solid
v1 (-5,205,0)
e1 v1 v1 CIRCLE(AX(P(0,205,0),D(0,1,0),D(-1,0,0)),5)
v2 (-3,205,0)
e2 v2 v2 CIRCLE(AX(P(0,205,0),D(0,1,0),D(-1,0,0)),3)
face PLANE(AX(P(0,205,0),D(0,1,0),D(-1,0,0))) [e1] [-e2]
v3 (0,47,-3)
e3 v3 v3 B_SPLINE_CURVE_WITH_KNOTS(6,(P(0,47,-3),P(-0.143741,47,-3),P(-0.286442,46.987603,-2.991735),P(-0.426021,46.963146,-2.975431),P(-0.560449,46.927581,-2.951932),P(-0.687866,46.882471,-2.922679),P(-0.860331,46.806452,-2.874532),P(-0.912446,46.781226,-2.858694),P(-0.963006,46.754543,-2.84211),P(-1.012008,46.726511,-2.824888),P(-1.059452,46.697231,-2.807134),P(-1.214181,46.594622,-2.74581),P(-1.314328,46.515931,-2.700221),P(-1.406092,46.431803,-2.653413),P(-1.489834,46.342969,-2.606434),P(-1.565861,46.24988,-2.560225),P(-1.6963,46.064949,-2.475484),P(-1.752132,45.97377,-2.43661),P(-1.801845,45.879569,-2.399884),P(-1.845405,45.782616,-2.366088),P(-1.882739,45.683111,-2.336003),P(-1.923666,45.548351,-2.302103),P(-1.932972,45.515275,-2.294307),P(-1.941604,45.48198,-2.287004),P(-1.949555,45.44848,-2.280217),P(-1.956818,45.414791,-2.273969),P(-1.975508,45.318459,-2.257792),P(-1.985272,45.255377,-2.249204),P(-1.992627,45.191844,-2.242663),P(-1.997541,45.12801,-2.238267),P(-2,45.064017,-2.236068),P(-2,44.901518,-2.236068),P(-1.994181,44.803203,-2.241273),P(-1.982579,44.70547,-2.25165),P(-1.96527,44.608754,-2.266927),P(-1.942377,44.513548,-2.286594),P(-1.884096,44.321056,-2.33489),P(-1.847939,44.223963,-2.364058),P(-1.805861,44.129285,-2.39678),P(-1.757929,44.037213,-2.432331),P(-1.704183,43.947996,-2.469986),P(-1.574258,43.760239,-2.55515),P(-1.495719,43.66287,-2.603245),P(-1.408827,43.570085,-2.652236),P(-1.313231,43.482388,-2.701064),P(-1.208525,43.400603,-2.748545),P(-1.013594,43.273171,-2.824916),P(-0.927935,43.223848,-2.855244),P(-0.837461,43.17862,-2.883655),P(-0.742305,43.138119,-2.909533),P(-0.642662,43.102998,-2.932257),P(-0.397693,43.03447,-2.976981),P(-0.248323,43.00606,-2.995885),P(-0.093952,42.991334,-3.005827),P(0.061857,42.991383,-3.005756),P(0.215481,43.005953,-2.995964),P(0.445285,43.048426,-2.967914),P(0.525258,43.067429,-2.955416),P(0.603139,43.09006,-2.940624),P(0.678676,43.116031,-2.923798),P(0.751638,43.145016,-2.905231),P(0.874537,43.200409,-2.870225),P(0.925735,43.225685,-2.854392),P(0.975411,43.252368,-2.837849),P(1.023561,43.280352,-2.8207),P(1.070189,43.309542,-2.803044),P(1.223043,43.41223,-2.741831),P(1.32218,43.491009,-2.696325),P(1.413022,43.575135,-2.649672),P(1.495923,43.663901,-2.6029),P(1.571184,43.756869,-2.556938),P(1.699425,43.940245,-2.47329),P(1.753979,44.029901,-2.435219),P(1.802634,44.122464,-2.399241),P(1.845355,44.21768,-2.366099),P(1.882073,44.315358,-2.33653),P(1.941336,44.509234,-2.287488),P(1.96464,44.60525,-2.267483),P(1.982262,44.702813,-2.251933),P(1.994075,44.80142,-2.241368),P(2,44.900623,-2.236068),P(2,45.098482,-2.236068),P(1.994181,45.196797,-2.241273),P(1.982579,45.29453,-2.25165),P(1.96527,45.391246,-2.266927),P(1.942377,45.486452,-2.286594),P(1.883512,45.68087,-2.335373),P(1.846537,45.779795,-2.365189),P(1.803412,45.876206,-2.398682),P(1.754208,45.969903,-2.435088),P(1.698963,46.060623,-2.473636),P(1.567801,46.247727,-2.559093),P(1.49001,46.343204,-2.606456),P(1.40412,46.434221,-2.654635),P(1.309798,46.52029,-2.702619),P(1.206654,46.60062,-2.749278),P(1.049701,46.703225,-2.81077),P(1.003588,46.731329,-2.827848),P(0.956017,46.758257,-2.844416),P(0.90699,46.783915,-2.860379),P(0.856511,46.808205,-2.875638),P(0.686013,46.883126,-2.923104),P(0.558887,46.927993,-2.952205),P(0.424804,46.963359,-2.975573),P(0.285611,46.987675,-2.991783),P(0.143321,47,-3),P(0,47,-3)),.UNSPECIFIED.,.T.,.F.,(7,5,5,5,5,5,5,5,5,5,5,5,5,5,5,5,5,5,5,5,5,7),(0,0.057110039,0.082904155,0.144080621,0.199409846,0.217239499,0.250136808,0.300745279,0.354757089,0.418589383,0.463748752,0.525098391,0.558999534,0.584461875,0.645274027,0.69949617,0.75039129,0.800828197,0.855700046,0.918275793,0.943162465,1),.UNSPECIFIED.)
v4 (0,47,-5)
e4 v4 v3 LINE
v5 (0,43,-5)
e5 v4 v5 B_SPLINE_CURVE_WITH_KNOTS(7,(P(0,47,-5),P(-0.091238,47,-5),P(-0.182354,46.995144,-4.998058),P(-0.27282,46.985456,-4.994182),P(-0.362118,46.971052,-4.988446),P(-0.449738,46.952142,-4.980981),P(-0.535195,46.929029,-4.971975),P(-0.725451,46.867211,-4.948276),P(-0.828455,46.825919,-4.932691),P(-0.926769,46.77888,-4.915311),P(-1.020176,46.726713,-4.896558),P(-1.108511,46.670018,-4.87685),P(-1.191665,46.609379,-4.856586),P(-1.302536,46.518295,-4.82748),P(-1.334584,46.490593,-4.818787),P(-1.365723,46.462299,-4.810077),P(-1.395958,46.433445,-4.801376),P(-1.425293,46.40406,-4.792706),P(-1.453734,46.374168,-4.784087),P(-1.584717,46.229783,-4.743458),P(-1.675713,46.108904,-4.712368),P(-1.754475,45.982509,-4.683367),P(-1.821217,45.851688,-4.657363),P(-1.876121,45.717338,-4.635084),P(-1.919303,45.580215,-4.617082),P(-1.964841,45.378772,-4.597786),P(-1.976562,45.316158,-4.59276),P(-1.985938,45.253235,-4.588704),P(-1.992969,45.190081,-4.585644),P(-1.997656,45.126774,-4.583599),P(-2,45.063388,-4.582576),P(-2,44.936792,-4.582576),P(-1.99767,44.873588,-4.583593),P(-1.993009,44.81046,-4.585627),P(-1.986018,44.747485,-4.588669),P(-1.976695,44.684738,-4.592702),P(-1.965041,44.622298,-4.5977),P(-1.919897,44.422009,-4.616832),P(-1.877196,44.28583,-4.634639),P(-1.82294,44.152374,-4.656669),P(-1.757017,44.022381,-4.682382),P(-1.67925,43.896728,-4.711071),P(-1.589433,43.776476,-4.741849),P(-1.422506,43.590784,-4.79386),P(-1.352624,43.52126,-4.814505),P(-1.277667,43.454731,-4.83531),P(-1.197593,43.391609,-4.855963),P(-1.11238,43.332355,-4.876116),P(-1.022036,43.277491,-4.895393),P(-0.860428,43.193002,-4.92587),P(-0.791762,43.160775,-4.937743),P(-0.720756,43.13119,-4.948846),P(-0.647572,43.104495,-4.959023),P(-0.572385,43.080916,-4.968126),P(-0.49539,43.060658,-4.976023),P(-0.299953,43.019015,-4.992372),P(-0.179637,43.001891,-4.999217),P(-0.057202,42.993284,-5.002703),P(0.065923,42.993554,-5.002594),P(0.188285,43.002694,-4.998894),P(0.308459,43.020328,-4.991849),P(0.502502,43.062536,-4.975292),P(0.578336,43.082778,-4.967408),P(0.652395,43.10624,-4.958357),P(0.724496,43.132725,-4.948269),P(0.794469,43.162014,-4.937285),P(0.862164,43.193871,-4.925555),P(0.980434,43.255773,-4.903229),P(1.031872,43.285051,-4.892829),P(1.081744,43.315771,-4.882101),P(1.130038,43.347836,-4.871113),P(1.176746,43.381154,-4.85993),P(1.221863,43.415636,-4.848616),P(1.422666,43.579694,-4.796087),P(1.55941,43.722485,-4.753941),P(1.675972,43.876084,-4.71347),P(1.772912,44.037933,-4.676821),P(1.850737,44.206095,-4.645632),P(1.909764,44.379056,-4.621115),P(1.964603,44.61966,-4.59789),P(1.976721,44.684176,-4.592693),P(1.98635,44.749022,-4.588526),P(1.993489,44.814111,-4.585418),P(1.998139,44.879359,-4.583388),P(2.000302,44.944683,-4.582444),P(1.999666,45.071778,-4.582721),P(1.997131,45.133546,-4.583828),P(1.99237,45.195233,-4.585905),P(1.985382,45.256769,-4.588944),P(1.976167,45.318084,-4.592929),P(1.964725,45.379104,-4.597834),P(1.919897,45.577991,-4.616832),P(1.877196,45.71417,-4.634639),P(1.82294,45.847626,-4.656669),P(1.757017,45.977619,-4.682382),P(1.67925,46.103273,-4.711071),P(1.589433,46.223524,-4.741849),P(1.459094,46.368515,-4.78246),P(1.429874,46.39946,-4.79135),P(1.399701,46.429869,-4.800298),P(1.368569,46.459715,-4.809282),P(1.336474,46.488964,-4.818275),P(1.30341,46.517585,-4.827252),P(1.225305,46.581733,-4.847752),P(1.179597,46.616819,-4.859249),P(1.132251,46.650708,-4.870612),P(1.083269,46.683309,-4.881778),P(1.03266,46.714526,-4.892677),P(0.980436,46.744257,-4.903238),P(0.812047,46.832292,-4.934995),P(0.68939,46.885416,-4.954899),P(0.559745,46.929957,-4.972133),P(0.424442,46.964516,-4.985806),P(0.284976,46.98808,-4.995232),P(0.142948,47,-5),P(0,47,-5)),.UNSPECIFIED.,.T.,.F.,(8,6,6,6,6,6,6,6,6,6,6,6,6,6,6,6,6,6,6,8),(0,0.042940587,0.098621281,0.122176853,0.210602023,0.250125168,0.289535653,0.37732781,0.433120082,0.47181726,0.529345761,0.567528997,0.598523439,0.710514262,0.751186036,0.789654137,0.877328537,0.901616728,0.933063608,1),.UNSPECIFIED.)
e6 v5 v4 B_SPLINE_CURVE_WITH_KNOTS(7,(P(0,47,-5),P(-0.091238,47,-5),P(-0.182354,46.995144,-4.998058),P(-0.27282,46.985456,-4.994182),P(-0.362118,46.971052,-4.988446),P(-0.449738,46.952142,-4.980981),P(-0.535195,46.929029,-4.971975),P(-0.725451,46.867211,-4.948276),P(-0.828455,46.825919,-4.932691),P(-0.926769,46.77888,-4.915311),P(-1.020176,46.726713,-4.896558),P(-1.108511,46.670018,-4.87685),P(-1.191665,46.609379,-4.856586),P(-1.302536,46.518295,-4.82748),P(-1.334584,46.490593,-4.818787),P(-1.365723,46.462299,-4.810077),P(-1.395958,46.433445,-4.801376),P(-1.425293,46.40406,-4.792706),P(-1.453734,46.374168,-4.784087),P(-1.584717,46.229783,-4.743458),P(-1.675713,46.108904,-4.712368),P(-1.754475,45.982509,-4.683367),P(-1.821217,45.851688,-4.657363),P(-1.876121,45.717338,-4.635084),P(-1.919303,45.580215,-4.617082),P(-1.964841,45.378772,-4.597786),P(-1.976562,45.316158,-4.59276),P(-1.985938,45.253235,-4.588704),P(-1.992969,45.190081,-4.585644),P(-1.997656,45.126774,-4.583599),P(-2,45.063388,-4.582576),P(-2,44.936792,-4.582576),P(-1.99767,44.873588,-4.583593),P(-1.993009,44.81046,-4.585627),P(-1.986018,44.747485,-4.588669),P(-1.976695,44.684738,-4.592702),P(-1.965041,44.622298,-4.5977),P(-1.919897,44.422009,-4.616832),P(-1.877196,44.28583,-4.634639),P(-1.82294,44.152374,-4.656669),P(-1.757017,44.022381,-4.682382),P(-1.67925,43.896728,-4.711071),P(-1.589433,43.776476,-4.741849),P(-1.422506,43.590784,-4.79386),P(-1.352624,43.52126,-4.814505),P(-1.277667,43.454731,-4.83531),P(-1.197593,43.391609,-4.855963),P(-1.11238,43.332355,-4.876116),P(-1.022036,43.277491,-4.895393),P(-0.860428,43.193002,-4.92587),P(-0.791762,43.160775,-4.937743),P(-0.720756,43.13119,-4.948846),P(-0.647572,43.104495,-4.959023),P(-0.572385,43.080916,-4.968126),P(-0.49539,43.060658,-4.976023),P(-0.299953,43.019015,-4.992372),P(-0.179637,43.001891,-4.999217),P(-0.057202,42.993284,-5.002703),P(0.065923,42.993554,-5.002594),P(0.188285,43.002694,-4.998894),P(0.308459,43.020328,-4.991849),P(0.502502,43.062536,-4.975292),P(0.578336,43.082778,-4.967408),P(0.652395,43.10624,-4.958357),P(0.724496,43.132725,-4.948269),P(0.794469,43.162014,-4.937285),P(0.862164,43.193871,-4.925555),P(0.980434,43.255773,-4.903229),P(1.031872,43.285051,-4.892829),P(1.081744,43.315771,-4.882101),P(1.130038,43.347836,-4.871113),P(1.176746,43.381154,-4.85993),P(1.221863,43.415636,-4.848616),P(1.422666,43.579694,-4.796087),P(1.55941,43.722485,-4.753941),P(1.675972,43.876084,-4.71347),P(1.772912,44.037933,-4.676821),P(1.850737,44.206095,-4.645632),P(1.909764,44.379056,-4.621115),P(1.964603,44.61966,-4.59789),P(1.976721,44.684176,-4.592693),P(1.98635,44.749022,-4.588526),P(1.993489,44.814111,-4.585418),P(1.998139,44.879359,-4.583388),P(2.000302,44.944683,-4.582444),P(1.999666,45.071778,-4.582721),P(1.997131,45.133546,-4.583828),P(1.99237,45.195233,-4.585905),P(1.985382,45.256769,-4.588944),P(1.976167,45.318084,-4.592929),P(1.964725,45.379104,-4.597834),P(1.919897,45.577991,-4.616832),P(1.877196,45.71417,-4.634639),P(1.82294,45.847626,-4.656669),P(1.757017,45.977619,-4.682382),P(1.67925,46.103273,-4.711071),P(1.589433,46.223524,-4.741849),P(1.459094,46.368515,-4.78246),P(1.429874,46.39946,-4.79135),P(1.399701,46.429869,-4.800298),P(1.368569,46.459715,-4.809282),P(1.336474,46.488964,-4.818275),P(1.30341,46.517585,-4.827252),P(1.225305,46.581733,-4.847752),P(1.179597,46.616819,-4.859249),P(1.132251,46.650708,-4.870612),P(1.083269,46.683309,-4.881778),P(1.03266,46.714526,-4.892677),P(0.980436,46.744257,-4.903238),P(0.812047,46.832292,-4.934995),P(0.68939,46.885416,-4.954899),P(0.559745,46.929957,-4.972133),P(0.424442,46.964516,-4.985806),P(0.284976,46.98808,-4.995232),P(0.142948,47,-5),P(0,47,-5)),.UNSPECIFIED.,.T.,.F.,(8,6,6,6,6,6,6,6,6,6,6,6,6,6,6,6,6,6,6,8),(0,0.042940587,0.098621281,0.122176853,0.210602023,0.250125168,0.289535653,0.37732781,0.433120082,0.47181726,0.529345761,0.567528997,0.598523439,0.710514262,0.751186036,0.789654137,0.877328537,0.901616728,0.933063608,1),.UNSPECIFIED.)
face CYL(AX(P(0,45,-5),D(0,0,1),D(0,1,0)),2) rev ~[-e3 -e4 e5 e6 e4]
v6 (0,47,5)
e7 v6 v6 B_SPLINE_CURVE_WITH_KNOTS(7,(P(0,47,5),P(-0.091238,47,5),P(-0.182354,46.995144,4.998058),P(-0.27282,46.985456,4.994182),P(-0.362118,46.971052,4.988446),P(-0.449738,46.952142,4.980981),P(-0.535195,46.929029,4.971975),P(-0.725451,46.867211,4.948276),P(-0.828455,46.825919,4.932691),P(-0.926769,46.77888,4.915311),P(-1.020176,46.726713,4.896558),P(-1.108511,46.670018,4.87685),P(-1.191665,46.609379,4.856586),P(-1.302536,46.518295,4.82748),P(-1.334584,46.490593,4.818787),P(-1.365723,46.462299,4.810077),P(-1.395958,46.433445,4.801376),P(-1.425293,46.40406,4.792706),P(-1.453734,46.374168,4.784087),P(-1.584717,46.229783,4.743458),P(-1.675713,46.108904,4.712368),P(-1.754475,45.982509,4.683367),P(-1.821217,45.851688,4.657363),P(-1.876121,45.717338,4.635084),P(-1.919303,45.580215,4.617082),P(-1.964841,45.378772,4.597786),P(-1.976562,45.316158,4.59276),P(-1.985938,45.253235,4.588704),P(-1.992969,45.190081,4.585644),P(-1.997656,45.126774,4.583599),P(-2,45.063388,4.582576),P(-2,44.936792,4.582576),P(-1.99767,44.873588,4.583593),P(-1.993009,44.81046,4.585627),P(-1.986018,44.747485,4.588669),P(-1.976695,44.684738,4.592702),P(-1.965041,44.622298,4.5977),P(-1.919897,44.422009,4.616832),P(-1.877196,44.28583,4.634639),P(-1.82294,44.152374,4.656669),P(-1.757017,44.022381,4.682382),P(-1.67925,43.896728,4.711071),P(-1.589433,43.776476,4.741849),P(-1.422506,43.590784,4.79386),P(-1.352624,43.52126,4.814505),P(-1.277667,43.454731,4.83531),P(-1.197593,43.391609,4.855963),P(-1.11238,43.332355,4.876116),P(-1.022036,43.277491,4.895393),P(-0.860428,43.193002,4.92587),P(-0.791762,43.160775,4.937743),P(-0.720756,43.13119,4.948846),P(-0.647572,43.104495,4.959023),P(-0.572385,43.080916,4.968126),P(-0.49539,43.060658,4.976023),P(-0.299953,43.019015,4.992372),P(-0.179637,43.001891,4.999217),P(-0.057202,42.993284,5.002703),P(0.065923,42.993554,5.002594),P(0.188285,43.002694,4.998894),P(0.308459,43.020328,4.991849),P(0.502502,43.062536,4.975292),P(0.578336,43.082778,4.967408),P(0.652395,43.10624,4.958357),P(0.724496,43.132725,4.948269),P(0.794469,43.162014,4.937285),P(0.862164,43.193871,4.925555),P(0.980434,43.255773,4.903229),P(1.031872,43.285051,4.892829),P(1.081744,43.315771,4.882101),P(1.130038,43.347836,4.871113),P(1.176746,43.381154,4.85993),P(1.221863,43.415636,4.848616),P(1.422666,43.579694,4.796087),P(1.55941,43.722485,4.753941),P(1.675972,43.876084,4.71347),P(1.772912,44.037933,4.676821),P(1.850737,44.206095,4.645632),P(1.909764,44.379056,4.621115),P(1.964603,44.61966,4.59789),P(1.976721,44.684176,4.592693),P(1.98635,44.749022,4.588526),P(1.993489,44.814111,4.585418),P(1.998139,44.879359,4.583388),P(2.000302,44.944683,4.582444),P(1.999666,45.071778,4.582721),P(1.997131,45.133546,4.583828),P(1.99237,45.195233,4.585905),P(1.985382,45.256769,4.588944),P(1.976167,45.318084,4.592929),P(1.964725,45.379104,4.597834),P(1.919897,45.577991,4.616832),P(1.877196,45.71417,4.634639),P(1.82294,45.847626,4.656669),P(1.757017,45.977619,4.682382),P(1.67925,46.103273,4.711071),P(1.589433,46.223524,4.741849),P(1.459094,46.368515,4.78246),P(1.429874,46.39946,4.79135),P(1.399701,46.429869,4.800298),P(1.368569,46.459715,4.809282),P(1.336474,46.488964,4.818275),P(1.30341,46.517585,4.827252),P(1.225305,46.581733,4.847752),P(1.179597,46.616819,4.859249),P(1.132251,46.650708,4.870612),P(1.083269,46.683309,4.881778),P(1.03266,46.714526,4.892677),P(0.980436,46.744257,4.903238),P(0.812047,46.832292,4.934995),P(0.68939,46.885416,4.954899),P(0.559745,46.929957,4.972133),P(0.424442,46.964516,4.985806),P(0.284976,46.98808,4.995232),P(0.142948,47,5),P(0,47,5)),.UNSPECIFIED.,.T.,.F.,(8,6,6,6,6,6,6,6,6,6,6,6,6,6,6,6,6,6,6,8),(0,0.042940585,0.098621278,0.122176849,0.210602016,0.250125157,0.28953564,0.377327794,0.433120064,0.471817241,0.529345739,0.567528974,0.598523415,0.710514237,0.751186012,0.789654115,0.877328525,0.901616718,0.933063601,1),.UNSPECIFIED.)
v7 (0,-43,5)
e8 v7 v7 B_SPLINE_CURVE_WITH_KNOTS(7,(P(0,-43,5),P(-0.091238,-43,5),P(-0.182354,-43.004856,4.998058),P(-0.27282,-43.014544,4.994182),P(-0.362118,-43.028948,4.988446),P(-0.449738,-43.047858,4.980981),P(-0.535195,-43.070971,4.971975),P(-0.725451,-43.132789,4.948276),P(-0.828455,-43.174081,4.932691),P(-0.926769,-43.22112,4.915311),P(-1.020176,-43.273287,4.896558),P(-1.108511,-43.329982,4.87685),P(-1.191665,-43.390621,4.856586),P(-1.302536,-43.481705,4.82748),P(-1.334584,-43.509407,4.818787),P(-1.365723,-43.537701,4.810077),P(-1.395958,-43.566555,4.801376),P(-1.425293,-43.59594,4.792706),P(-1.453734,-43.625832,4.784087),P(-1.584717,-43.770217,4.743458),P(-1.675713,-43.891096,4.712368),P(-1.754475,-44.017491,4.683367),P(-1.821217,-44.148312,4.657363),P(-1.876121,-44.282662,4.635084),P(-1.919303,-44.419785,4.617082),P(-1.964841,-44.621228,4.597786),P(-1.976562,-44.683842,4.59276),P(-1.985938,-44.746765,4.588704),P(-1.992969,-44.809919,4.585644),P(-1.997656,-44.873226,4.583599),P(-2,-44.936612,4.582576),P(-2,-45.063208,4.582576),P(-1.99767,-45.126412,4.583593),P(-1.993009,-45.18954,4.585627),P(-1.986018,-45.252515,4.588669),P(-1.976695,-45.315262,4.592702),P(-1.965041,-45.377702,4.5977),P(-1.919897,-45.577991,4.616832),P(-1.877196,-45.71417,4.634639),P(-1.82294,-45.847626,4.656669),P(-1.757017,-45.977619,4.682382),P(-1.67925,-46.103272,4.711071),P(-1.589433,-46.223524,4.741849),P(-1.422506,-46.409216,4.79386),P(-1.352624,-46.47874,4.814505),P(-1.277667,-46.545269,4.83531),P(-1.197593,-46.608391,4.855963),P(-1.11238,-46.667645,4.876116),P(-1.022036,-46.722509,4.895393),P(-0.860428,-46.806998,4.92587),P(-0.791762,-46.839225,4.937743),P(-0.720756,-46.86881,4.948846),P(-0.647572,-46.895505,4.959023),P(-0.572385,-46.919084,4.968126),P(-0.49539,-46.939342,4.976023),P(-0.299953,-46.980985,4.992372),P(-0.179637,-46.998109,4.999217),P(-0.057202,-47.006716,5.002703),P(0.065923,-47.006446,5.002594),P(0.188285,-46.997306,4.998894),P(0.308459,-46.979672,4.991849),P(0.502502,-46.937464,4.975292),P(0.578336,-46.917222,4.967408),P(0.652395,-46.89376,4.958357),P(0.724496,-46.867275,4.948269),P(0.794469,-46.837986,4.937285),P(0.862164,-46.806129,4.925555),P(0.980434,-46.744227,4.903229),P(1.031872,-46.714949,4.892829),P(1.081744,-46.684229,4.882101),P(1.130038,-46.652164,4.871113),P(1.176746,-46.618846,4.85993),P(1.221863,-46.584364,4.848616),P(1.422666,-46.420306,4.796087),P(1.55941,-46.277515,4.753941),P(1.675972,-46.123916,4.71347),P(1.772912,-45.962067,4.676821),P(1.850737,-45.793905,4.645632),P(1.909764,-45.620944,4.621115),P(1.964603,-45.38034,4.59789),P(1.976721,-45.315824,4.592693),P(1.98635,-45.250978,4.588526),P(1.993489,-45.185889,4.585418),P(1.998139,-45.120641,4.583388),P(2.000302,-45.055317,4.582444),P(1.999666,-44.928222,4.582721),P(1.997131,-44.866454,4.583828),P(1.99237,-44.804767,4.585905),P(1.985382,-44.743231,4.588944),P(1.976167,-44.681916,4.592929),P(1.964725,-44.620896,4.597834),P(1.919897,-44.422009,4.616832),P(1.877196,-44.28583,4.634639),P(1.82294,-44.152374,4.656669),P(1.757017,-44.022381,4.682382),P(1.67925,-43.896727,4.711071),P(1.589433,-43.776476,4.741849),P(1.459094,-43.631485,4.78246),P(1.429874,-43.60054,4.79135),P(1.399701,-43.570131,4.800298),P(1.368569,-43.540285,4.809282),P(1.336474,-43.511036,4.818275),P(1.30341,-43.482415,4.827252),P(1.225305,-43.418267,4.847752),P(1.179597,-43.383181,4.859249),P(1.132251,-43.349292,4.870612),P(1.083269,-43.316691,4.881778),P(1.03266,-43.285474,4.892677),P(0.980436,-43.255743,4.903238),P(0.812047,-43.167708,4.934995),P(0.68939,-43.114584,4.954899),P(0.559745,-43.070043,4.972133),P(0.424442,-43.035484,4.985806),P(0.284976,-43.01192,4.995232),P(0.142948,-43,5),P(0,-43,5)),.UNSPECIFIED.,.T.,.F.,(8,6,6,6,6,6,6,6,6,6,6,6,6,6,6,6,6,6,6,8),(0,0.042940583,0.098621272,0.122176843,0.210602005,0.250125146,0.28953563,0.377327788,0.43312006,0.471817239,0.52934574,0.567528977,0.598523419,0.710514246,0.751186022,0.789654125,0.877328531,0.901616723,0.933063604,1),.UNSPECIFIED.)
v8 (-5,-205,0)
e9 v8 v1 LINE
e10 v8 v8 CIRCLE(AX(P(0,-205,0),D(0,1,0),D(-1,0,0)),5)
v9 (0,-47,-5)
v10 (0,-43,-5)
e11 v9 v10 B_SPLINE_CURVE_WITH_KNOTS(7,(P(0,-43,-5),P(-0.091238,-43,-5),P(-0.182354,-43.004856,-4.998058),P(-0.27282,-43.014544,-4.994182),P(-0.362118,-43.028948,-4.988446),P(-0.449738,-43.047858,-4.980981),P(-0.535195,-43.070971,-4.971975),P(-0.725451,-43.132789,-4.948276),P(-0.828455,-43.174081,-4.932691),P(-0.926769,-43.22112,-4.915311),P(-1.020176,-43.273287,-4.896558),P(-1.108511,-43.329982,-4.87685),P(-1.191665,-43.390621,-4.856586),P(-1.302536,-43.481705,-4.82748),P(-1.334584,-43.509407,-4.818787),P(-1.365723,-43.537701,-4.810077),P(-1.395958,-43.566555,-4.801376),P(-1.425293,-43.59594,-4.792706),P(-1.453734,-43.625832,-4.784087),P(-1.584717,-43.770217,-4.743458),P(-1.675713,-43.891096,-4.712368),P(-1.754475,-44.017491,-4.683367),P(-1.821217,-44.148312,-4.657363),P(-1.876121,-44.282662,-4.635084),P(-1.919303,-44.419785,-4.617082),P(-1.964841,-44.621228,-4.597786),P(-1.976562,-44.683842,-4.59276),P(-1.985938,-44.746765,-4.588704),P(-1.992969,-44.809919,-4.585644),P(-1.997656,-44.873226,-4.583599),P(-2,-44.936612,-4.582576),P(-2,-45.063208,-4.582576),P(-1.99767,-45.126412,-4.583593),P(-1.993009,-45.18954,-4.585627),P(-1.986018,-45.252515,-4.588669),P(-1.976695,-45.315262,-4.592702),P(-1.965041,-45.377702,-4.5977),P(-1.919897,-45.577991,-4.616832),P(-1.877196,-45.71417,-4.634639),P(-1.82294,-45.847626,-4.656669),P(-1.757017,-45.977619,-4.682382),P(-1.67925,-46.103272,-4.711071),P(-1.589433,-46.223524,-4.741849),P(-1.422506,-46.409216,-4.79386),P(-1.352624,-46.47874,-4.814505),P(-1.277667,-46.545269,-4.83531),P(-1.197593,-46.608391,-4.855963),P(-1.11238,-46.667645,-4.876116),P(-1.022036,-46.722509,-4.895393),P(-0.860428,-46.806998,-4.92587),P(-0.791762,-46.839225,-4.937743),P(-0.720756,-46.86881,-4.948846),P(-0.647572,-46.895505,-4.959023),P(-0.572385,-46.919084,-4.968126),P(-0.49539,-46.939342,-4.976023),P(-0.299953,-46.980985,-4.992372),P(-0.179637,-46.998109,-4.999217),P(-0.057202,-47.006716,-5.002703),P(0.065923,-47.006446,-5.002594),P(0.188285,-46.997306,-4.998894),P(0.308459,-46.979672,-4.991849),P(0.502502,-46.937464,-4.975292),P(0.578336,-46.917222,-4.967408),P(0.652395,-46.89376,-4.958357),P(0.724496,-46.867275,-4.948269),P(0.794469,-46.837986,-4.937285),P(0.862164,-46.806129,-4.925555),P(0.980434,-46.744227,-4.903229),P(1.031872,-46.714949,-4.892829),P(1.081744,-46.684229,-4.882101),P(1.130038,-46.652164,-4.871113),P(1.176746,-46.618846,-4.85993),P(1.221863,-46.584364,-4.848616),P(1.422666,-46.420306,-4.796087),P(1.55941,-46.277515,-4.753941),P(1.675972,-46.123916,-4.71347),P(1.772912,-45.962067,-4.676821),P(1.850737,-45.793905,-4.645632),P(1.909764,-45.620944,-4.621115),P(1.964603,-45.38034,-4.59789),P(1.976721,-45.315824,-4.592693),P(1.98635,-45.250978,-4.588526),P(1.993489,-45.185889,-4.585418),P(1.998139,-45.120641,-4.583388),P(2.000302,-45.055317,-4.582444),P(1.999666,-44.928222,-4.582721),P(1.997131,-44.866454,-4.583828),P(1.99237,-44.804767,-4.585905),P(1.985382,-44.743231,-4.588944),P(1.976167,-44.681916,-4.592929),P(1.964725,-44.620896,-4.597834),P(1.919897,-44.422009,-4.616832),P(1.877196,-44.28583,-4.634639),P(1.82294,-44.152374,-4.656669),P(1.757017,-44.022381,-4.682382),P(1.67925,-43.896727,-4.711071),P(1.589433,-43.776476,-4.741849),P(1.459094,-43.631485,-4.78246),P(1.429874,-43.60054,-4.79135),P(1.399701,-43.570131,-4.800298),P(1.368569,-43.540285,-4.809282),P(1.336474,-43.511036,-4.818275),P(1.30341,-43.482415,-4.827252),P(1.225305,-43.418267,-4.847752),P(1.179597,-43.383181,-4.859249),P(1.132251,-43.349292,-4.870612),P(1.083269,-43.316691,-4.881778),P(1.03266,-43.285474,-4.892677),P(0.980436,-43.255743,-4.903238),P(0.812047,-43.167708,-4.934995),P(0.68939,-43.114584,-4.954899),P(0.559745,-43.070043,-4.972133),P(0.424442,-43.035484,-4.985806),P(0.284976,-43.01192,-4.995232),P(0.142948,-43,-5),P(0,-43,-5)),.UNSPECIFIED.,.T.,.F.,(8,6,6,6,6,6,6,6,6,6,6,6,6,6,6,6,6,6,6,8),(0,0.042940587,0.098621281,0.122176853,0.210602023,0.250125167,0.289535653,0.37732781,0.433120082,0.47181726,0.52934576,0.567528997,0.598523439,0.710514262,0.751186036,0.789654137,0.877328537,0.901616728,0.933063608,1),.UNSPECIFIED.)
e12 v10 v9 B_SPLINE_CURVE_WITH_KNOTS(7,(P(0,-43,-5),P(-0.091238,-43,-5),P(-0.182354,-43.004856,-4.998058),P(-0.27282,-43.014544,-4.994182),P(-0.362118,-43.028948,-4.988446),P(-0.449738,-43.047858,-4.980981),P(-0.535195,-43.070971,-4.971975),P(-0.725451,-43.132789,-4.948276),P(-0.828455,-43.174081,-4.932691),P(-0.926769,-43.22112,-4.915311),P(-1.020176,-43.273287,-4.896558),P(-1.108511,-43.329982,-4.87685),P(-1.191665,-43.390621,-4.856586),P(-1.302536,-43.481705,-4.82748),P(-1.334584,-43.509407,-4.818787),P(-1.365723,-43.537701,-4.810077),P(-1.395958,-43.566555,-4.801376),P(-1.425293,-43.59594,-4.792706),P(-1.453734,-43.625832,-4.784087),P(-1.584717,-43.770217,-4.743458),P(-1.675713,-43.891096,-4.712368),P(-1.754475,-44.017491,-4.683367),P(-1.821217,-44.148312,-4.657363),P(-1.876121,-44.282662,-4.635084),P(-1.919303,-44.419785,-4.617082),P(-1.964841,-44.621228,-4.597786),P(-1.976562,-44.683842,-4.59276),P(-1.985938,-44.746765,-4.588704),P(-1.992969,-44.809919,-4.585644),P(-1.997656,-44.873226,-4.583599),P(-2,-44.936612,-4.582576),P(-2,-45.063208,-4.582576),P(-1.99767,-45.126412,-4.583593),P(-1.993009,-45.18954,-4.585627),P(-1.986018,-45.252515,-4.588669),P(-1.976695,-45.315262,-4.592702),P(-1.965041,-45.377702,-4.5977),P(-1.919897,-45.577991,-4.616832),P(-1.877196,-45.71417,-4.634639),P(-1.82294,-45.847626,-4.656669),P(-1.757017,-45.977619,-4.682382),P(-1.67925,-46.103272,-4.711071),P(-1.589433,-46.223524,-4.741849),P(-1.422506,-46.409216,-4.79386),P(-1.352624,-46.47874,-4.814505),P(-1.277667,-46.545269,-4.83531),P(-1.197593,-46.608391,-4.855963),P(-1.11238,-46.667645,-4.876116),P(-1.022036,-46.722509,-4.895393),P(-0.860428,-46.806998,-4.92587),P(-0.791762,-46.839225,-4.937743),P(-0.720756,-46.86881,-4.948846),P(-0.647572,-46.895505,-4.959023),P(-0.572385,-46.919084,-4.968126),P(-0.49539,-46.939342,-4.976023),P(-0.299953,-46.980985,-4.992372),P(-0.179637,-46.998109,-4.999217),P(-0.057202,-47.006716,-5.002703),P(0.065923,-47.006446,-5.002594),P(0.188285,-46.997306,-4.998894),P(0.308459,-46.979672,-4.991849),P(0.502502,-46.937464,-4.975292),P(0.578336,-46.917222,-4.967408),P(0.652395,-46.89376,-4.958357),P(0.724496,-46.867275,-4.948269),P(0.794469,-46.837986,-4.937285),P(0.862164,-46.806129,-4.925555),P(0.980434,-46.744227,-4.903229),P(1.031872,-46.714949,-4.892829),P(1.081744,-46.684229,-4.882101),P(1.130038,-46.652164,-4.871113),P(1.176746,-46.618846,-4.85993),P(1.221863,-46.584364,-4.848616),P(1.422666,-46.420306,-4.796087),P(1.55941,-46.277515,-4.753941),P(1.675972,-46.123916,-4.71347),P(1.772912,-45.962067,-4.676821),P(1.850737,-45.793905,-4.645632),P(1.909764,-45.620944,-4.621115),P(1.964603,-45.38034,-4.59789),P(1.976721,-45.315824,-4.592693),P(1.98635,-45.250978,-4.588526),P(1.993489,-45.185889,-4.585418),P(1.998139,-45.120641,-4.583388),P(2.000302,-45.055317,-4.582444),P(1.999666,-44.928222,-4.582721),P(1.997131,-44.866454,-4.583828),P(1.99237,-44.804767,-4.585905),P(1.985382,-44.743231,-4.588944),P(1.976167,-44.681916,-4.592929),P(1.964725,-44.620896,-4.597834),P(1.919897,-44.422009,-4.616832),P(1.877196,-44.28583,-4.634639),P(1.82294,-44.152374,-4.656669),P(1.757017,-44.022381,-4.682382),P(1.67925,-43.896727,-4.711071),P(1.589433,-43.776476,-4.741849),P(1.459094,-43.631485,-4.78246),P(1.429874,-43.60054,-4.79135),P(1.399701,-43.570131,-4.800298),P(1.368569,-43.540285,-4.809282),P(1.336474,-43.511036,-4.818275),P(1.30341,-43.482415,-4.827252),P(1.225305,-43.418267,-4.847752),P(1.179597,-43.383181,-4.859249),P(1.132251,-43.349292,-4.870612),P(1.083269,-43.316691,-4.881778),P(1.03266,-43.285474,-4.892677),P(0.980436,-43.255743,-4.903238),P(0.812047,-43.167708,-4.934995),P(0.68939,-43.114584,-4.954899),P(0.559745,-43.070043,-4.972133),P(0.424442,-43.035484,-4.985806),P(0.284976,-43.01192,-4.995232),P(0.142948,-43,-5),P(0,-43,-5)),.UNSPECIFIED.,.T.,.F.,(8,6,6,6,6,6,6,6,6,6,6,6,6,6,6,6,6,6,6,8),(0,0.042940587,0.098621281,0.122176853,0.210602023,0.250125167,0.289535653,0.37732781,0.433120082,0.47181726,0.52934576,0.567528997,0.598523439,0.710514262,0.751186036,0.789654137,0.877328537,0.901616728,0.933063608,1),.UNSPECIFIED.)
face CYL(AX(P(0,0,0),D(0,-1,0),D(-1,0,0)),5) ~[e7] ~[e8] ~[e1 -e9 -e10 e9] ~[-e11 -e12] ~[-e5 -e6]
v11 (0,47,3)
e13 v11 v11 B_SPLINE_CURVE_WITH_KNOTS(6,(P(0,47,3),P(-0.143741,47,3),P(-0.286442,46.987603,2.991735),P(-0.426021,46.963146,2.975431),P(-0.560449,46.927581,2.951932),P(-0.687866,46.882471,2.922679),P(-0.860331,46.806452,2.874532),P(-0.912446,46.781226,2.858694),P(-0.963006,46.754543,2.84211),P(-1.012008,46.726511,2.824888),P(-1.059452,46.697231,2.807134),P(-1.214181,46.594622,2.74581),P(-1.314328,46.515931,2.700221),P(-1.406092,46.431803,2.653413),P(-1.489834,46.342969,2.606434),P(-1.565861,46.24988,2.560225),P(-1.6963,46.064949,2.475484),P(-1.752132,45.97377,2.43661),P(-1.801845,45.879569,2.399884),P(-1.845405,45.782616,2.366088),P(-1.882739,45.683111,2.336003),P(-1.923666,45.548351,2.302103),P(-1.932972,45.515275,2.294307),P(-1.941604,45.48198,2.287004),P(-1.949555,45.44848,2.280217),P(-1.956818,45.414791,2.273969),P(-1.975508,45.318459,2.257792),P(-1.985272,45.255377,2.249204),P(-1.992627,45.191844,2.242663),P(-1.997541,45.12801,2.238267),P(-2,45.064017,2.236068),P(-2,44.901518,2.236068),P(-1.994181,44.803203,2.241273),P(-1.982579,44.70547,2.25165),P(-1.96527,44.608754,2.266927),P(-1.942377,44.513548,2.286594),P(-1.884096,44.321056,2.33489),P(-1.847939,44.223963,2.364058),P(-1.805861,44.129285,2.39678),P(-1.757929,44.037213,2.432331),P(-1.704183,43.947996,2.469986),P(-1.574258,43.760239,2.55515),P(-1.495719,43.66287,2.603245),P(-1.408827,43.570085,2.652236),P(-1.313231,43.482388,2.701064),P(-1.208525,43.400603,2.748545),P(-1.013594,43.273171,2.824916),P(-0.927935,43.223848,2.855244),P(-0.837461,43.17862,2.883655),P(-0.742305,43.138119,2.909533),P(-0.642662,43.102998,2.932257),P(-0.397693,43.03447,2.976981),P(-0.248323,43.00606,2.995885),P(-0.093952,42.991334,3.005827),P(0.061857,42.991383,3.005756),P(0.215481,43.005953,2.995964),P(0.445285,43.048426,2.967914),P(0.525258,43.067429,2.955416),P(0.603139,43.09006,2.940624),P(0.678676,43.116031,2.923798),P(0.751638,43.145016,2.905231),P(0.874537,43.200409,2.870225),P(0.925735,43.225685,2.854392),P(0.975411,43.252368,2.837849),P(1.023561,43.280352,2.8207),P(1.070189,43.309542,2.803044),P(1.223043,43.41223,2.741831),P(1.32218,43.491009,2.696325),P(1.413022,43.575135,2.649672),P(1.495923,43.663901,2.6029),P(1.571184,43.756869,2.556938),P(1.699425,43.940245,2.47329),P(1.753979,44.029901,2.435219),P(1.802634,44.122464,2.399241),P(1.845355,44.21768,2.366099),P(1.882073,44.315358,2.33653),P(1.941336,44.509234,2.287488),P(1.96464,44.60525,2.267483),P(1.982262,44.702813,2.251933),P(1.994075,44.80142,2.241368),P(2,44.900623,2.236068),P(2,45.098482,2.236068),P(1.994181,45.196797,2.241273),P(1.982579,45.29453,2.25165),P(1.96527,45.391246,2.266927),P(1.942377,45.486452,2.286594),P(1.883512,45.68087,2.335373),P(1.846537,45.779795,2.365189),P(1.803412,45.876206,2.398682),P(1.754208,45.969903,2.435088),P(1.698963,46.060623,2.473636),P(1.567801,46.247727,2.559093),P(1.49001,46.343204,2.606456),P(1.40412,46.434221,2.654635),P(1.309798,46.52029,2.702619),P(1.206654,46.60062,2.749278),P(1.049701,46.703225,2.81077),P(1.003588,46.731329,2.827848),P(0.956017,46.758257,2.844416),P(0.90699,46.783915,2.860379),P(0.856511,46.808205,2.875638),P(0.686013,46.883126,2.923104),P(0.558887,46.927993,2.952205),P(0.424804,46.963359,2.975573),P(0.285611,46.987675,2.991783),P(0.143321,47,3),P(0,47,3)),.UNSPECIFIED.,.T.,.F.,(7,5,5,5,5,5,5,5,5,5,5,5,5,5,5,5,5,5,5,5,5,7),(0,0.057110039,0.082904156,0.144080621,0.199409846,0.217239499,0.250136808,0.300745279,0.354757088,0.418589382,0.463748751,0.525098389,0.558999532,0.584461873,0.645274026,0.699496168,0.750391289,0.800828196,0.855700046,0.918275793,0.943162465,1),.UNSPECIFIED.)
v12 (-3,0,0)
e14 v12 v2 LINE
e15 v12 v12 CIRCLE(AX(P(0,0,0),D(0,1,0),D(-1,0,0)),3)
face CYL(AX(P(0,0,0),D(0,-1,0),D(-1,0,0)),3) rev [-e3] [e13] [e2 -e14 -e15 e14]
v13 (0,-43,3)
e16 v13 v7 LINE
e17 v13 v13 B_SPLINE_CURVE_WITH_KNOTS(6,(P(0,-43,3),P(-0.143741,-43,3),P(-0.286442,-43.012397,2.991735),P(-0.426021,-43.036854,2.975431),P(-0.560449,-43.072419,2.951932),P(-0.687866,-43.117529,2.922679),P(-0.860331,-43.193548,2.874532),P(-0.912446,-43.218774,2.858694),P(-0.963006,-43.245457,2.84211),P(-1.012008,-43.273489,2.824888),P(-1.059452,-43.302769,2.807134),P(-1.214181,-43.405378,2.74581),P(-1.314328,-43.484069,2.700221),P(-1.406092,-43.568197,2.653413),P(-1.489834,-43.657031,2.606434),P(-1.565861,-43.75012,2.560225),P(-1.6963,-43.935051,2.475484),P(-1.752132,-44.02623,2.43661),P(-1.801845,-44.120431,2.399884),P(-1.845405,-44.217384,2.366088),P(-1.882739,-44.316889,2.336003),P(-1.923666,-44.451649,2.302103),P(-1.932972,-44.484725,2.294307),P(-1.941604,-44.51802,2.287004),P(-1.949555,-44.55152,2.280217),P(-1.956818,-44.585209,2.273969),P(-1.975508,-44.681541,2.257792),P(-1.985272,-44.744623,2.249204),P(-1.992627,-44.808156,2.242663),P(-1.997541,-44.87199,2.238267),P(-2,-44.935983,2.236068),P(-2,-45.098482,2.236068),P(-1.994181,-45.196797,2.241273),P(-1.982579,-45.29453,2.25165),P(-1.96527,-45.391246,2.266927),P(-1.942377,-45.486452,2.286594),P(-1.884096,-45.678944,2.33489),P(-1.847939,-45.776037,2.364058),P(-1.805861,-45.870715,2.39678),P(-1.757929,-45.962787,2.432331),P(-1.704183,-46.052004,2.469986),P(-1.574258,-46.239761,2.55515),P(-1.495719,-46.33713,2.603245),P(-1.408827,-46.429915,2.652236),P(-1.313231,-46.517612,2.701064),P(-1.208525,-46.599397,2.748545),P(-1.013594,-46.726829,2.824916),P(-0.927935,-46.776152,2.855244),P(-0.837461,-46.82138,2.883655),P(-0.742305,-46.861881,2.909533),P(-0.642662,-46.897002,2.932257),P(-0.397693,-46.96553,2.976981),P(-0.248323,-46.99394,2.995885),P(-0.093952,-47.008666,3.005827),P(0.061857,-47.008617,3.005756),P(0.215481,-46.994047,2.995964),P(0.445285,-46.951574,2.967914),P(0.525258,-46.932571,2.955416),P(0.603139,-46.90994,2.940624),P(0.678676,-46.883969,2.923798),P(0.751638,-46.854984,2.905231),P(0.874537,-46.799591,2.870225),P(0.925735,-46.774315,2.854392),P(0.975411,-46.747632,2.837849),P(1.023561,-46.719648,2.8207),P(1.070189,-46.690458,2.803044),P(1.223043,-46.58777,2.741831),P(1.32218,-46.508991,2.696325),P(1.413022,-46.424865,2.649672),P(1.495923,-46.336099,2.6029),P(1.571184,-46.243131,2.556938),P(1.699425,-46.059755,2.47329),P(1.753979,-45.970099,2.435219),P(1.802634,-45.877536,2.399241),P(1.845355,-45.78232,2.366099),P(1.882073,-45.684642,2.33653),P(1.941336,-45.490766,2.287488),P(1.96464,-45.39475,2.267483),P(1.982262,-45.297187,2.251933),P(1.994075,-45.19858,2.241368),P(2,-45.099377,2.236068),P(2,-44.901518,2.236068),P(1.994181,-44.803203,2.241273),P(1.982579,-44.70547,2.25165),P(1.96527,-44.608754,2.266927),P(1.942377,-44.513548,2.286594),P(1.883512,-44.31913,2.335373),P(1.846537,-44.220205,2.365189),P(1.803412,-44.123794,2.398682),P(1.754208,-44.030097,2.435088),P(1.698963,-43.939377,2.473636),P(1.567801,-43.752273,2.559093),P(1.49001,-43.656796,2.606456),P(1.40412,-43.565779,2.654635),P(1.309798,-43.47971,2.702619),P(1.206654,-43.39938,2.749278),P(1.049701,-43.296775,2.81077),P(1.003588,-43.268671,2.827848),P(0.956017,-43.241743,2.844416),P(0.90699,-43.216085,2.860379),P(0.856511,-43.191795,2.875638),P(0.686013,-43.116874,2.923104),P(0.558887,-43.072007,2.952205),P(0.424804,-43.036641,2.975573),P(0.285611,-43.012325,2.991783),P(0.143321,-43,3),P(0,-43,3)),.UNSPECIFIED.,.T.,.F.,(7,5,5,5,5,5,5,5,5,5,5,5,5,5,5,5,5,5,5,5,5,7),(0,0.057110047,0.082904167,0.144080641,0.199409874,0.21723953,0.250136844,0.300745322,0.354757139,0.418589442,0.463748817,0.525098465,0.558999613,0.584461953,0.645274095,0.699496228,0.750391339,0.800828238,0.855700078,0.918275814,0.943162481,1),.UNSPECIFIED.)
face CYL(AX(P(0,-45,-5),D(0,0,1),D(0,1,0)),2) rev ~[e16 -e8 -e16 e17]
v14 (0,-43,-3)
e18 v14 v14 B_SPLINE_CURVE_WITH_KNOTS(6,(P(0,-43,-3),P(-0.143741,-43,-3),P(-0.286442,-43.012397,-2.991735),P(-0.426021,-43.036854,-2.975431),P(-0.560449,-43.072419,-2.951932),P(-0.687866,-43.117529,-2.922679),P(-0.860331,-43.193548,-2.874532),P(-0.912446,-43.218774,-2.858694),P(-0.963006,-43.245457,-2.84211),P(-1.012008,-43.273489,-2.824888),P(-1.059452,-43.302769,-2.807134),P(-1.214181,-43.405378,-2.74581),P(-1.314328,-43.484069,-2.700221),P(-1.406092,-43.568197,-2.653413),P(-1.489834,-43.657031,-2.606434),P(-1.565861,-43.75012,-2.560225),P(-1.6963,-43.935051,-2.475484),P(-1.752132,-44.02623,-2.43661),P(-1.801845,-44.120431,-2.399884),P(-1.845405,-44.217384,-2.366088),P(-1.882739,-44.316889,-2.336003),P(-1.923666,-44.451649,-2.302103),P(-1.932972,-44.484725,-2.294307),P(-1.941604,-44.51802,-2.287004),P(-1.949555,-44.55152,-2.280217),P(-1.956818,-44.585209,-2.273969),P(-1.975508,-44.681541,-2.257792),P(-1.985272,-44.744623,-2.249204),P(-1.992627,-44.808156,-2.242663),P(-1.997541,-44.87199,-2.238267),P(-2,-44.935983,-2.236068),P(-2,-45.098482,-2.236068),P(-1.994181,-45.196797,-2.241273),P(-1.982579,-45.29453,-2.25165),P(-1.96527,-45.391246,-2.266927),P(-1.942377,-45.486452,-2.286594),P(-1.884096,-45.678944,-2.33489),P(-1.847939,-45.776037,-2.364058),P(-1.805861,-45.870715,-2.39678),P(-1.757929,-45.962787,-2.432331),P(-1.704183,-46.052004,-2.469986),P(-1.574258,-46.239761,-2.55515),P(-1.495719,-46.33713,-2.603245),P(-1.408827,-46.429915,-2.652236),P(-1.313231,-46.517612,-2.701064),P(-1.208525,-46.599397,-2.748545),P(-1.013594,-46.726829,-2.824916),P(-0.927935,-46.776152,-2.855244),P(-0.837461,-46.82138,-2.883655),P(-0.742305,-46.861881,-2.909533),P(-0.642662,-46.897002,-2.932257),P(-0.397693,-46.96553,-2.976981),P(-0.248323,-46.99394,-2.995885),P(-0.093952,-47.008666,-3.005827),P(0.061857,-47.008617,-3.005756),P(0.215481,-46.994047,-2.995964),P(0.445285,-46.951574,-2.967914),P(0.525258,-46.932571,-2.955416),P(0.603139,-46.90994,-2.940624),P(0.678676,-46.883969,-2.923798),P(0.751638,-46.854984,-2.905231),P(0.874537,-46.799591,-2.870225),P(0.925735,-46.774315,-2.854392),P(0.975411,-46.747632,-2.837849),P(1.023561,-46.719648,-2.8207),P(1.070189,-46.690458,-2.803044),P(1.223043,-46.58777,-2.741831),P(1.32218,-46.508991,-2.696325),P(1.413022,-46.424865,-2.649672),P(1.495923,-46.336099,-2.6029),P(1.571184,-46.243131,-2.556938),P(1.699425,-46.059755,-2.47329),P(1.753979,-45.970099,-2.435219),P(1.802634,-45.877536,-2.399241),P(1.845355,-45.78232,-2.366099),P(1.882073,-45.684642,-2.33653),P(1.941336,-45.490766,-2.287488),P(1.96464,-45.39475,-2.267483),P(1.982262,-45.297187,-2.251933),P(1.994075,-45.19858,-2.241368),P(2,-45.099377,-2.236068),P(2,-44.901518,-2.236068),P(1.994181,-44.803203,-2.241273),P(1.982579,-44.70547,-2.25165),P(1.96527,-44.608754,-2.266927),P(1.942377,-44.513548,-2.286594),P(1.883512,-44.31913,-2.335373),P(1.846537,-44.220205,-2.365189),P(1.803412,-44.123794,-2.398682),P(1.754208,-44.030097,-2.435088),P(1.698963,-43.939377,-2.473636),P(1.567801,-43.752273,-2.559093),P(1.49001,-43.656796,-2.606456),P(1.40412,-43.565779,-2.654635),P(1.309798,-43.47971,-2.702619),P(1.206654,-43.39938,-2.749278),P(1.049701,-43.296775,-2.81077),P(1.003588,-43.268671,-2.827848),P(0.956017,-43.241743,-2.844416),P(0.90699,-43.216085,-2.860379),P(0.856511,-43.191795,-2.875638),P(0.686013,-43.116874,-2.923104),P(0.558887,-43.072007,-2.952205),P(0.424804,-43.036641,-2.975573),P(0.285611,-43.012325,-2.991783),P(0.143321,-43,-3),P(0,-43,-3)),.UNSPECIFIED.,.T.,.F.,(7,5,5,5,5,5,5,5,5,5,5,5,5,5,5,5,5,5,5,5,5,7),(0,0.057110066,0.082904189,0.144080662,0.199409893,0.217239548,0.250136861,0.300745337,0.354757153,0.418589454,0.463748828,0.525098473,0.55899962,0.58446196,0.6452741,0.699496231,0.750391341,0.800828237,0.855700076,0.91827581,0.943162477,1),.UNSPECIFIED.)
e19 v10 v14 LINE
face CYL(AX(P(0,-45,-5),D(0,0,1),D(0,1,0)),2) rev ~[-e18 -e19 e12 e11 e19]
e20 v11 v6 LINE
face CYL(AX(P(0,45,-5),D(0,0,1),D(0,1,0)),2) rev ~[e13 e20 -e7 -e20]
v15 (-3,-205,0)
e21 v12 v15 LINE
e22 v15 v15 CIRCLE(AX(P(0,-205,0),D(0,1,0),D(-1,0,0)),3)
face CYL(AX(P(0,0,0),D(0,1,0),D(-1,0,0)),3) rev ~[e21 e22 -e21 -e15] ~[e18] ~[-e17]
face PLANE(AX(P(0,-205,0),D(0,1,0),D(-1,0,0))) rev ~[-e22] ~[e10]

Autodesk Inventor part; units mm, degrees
ref_plane "YZ Plane" through (0, 0, 0) normal (1, 0, 0) x (0, 1, 0)
ref_plane "XZ Plane" through (0, 0, 0) normal (0, 1, 0) x (-1, 0, 0)
ref_plane "XY Plane" through (0, 0, 0) normal (0, 0, 1) x (1, 0, 0)
sketch "Skizze1" plane through (0, 0, 0) normal (0, 1, 0) x (-1, 0, 0)
  circle A0 centre (0, 0) radius 5
  circle A1 centre (0, 0) radius 3
  dimension "d0" = 2
  dimension "d2" = 10
  dimension "d20" = 6
extrude "Extrusion1" add sketch "Skizze1" along normal mid plane 410
ref_plane "Arbeitsebene2" through (0, 0, -5) normal (0, 0, 1) x (1, 0, 0)
ref_plane "Arbeitsebene1" through (-8, 108.509, 24.4581) normal (0, 0, 1) x (0, -1, 0)
sketch "Skizze3" plane through (0, 0, -5) normal (0, 0, 1) x (1, 0, 0)
  line L0 (0, 0) -> (0, 160.2649) construction
  point P0 (0, 0)
  point P1 (0, 80.1325)
  point P2 (0, 45)
  point P3 (0, -45)
  dimension "d8" = 45
  dimension "d10" = 45
hole "Bohrung1" at (0, 45, -5) at (0, -45, -5) direction (0, 0, 1) diameter 4 end through all
ref_plane "Arbeitsebene4" through (0, 0, 5) normal (0, 0, 1) x (1, 0, 0)
thread "Gewinde1" size "M7x1" class "6H" standard "ANSI Metric M Profile" length 10
thread "Gewinde2" size "M7x1" class "6H" standard "ANSI Metric M Profile" length 10
properties part number "Zwischenstange" material "Aluminium"
